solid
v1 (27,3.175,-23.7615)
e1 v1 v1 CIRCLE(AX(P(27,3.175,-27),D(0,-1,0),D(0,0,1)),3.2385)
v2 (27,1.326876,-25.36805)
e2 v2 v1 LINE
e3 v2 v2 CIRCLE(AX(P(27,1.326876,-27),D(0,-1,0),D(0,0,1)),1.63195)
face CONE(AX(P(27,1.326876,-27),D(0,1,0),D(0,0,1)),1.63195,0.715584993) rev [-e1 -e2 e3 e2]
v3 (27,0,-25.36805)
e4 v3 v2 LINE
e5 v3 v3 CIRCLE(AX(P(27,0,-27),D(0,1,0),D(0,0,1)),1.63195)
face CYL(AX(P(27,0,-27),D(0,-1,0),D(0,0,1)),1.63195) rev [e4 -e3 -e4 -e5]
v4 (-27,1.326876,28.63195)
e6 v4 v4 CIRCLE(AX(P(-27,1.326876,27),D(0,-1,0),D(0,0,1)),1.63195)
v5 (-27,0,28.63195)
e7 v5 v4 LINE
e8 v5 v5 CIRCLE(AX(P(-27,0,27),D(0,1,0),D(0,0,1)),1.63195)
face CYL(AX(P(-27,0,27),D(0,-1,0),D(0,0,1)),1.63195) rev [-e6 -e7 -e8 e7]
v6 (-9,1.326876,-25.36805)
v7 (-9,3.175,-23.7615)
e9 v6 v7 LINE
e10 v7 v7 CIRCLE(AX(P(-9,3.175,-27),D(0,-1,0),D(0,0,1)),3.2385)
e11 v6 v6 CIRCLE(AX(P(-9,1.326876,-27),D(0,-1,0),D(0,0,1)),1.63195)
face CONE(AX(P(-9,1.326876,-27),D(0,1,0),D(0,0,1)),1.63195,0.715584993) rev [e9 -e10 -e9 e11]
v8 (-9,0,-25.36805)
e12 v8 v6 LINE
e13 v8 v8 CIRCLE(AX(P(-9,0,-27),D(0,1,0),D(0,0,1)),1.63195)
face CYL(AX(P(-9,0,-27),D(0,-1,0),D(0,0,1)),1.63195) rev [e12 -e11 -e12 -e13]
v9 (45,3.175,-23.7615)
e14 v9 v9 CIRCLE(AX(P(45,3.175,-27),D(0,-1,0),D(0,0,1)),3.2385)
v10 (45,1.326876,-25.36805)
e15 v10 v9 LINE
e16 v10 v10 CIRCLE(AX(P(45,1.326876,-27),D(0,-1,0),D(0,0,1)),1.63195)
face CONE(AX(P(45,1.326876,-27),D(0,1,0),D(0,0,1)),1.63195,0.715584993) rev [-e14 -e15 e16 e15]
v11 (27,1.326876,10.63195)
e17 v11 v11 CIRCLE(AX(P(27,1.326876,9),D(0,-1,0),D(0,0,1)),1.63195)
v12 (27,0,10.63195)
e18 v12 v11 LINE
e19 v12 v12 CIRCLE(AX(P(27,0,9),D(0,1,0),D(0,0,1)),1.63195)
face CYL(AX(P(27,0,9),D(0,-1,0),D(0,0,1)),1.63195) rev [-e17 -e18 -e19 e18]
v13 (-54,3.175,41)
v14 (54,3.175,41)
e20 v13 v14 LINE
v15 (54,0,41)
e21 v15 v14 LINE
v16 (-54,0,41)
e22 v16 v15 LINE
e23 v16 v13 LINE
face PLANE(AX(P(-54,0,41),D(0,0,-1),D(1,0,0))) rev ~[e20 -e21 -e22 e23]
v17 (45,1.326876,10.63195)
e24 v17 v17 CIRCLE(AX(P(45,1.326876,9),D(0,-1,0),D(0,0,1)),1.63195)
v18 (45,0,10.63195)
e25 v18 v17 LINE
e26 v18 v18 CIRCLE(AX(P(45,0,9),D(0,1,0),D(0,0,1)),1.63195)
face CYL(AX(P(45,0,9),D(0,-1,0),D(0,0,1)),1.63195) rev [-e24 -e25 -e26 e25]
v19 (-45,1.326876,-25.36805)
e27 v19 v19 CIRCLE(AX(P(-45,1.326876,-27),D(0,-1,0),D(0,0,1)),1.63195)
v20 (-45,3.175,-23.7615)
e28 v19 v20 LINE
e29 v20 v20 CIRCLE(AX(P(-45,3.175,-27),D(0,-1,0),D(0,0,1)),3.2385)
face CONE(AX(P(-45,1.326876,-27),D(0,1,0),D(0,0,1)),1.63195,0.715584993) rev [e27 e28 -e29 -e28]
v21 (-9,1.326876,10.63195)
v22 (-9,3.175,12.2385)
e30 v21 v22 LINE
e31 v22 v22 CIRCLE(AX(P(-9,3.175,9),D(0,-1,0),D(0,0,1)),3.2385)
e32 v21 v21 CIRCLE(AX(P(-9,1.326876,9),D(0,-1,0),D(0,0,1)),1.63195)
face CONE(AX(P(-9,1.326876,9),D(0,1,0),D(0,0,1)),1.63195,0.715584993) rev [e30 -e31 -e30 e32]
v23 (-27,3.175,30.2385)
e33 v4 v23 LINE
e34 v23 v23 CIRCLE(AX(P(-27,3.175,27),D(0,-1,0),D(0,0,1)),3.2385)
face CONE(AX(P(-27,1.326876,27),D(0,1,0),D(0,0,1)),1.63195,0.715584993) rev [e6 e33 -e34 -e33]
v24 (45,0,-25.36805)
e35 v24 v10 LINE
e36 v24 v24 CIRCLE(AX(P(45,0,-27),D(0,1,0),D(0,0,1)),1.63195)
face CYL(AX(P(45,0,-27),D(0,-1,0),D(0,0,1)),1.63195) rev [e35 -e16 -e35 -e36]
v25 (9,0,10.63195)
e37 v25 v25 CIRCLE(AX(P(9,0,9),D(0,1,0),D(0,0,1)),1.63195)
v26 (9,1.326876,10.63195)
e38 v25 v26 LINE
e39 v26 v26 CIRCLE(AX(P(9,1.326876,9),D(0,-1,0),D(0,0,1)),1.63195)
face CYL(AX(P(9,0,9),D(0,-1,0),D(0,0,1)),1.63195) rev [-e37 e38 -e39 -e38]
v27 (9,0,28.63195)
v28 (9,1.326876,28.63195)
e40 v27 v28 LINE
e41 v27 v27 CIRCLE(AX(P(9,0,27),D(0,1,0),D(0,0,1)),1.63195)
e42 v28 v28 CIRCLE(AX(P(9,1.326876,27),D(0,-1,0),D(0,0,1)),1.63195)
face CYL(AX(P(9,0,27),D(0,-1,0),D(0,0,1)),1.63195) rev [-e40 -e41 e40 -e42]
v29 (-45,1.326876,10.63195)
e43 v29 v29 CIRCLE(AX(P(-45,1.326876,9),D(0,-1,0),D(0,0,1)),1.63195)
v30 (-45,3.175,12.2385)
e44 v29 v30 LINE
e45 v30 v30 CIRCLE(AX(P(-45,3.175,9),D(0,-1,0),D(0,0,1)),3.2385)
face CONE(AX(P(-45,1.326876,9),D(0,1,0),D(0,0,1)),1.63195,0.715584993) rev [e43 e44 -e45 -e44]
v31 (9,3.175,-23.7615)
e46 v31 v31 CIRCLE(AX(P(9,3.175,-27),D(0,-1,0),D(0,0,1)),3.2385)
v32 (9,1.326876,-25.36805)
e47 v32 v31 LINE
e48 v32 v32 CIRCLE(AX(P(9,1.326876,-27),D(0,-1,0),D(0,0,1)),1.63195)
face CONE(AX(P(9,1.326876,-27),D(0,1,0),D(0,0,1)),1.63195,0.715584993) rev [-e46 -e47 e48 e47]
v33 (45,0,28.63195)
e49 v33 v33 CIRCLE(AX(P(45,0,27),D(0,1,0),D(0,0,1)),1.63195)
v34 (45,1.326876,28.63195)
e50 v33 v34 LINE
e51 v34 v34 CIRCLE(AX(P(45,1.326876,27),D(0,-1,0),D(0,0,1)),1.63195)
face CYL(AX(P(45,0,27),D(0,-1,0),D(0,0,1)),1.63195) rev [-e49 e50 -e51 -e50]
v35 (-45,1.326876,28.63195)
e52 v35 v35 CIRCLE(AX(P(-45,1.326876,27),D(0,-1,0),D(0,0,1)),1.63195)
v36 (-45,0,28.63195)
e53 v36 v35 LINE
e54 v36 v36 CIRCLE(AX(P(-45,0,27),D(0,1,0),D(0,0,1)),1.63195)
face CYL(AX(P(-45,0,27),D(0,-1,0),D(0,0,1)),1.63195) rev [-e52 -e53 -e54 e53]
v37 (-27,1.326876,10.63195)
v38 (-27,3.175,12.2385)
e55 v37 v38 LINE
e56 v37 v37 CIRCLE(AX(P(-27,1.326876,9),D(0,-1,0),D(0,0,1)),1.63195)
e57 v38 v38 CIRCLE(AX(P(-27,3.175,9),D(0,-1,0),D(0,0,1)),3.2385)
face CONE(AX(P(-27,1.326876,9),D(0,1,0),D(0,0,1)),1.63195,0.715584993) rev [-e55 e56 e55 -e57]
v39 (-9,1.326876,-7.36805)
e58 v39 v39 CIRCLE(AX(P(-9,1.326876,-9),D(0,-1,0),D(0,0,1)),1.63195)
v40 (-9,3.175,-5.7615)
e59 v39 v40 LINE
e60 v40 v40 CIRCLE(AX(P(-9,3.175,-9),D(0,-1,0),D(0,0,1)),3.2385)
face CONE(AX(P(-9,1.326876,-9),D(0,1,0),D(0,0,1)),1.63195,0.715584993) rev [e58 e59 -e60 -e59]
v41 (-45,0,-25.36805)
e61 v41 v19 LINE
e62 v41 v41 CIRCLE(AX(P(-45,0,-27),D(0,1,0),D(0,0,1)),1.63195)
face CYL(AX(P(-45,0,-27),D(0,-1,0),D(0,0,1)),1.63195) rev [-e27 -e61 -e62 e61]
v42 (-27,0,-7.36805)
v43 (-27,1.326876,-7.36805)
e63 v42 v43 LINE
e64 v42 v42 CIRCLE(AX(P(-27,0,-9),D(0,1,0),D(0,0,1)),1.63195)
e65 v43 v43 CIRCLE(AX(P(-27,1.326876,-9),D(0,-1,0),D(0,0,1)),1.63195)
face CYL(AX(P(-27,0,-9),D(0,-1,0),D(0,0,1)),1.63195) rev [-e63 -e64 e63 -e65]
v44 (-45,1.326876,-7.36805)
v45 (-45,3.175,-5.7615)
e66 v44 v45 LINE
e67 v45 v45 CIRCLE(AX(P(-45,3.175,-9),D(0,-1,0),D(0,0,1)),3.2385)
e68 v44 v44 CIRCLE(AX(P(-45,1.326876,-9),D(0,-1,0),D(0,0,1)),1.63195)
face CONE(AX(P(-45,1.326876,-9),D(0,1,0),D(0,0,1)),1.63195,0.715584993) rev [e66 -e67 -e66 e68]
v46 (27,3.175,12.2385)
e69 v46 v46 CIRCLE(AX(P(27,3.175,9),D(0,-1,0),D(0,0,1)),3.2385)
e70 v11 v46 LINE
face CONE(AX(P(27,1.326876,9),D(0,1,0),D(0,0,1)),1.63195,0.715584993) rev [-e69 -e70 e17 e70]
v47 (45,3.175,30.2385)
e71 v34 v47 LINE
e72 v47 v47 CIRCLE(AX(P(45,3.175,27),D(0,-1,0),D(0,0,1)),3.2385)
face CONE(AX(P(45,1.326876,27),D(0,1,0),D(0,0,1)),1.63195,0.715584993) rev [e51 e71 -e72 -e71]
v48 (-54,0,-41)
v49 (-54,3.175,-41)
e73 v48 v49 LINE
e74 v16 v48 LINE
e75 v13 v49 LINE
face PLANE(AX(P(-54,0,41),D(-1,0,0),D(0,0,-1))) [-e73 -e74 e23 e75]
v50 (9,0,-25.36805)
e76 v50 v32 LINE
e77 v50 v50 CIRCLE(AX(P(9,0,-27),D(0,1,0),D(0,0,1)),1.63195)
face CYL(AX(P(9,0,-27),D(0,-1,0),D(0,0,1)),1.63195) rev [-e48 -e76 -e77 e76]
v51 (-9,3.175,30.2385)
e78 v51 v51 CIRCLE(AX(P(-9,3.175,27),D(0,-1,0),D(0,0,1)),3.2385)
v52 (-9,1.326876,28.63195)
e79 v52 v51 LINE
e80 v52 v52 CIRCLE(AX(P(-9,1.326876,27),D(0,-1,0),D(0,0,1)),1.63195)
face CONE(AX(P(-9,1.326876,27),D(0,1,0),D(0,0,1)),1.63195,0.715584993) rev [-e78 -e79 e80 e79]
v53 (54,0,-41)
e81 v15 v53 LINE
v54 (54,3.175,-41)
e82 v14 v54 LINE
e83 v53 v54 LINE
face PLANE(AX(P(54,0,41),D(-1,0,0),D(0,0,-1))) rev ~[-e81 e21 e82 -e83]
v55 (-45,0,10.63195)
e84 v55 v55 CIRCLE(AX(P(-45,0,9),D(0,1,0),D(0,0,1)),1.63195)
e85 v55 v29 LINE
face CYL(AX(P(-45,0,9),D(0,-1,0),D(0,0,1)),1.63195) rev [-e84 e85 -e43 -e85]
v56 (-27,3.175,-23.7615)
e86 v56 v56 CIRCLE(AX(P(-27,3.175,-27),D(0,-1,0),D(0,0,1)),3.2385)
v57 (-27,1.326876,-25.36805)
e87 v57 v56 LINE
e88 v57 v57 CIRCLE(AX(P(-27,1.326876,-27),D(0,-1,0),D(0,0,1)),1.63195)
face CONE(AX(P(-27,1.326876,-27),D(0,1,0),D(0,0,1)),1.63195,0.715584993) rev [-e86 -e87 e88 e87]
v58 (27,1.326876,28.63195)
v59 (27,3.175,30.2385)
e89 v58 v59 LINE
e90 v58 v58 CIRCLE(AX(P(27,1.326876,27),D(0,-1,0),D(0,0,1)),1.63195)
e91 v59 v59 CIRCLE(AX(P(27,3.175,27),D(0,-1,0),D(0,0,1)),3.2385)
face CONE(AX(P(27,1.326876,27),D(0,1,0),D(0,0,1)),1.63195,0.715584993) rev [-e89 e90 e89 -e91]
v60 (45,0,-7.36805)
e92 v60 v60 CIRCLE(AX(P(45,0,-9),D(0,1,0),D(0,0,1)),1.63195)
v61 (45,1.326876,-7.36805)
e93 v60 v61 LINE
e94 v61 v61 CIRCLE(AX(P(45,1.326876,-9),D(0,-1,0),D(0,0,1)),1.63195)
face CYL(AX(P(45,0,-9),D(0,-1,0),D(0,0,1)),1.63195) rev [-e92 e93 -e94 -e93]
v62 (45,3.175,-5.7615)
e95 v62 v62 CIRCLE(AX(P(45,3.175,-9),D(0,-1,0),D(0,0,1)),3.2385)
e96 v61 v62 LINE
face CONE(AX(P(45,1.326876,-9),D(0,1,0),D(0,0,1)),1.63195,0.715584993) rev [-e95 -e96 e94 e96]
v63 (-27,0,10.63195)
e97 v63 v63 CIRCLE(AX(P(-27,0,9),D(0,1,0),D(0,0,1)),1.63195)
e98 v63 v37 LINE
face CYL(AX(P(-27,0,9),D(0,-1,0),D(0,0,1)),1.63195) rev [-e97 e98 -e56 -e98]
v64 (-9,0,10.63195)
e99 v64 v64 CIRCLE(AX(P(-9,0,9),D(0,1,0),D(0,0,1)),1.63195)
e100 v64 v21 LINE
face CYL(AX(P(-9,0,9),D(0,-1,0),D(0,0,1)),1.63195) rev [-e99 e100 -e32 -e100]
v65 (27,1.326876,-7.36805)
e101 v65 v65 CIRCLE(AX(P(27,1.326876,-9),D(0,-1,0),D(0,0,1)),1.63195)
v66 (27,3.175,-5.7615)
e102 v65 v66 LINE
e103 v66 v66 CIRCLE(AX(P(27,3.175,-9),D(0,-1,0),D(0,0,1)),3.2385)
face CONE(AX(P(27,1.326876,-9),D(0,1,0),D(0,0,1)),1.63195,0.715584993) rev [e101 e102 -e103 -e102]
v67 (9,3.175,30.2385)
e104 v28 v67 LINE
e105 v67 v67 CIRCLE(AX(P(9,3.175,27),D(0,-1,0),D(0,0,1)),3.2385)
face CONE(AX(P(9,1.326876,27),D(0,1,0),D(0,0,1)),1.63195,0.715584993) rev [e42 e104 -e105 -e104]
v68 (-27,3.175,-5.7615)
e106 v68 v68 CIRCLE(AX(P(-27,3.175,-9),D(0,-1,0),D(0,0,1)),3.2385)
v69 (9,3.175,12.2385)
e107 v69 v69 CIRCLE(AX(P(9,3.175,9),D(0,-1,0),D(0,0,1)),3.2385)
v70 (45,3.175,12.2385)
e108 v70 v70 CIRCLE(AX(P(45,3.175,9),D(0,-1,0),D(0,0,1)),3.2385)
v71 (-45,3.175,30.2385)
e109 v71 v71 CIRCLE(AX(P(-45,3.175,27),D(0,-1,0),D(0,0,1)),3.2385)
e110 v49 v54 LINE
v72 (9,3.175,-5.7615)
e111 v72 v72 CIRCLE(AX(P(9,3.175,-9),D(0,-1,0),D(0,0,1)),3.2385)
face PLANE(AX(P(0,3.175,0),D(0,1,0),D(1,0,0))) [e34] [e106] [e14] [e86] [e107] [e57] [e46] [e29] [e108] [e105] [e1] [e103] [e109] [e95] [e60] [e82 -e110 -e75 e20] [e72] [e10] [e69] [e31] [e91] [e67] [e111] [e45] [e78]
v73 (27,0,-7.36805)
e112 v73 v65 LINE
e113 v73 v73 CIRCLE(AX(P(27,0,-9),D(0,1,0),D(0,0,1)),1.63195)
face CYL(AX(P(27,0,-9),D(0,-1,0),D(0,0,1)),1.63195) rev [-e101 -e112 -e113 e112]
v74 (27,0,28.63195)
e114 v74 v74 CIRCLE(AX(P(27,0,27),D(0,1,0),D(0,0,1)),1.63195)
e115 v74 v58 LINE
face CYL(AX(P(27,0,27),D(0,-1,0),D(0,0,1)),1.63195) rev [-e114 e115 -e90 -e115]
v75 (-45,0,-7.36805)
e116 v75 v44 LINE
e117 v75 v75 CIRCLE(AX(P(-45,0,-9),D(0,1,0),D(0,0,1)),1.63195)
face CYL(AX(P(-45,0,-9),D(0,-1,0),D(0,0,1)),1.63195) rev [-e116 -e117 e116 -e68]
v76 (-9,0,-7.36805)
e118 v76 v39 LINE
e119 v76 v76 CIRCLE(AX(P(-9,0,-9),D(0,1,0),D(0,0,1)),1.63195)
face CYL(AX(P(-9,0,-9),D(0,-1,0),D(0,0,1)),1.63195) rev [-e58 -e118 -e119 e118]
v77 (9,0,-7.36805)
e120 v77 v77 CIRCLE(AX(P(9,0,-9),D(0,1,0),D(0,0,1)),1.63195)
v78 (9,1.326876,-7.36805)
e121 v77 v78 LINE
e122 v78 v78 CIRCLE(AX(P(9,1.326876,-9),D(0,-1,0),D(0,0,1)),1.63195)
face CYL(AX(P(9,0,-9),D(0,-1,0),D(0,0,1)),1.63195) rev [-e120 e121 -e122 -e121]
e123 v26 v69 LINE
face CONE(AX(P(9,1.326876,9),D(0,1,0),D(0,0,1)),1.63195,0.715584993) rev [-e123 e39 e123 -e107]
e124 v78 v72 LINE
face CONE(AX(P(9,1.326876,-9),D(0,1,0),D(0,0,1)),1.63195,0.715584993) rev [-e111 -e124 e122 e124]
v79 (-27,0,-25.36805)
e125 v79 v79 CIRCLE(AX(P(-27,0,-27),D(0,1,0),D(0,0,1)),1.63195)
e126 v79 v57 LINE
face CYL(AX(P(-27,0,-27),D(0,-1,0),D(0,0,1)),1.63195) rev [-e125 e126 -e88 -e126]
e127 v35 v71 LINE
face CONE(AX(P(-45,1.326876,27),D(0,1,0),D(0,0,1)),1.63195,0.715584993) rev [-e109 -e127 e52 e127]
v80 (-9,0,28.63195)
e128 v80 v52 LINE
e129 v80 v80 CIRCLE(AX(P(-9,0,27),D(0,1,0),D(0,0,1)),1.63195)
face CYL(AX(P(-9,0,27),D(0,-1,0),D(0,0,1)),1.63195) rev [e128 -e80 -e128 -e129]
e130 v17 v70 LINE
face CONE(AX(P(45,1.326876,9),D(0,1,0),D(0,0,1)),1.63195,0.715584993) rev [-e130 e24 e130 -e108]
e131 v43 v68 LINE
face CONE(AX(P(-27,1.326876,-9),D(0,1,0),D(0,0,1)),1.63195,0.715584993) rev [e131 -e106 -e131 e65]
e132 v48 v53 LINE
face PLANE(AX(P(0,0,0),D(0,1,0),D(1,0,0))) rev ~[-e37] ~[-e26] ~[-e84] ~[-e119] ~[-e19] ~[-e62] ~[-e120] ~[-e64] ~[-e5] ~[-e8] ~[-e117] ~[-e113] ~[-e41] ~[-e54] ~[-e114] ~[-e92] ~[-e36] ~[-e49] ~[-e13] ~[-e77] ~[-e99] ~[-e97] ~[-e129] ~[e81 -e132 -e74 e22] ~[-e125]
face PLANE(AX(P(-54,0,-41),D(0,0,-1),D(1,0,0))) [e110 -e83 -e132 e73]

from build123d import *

# Parameters (mm, degrees)
SKETCH1_W                                     = 108
SKETCH1_H                                     = 82
SKETCH1_R                                     = 1.63195
BOSS_EXTRUDE1_DEPTH                           = 3.175
CSK_FOR_4_FLAT_HEAD_MACHINE_SCREW1_AT_2_COUNT = 2
CSK_FOR_4_FLAT_HEAD_MACHINE_SCREW1_AT_2_PITCH = 18
CSK_FOR_4_FLAT_HEAD_MACHINE_SCREW1_AT_3_COUNT = 2
CSK_FOR_4_FLAT_HEAD_MACHINE_SCREW1_AT_3_PITCH = 36
CSK_FOR_4_FLAT_HEAD_MACHINE_SCREW1_AT_4_COUNT = 2
CSK_FOR_4_FLAT_HEAD_MACHINE_SCREW1_AT_4_PITCH = 54
CSK_FOR_4_FLAT_HEAD_MACHINE_SCREW1_AT_5_COUNT = 2
CSK_FOR_4_FLAT_HEAD_MACHINE_SCREW1_AT_5_PITCH = 72
CSK_FOR_4_FLAT_HEAD_MACHINE_SCREW1_AT_6_COUNT = 2
CSK_FOR_4_FLAT_HEAD_MACHINE_SCREW1_AT_6_PITCH = 90
CSK_FOR_4_FLAT_HEAD_MACHINE_SCREW1_AT_7_COUNT = 2
CSK_FOR_4_FLAT_HEAD_MACHINE_SCREW1_AT_7_PITCH = 91.782351245
CSK_FOR_4_FLAT_HEAD_MACHINE_SCREW1_AT_8_COUNT = 2
CSK_FOR_4_FLAT_HEAD_MACHINE_SCREW1_AT_8_PITCH = 74.215901261
CSK_FOR_4_FLAT_HEAD_MACHINE_SCREW1_AT_9_COUNT = 2
CSK_FOR_4_FLAT_HEAD_MACHINE_SCREW1_AT_9_PITCH = 56.920997883
CSK_FOR_4_FLAT_HEAD_MACHINE_SCREW1_AT_1_COUNT = 2
CSK_FOR_4_FLAT_HEAD_MACHINE_SCREW1_AT_1_PITCH = 40.249223595
CSK_FOR_4_FLAT_HEAD_MACHINE_SCREW1_2_COUNT    = 2
CSK_FOR_4_FLAT_HEAD_MACHINE_SCREW1_2_PITCH    = 25.455844123
CSK_FOR_4_FLAT_HEAD_MACHINE_SCREW1_3_COUNT    = 2
CSK_FOR_4_FLAT_HEAD_MACHINE_SCREW1_3_PITCH    = 18
CSK_FOR_4_FLAT_HEAD_MACHINE_SCREW1_4_COUNT    = 2
CSK_FOR_4_FLAT_HEAD_MACHINE_SCREW1_4_PITCH    = 36
CSK_FOR_4_FLAT_HEAD_MACHINE_SCREW1_5_COUNT    = 2
CSK_FOR_4_FLAT_HEAD_MACHINE_SCREW1_5_PITCH    = 40.249223595
CSK_FOR_4_FLAT_HEAD_MACHINE_SCREW1_6_COUNT    = 2
CSK_FOR_4_FLAT_HEAD_MACHINE_SCREW1_6_PITCH    = 50.911688245
CSK_FOR_4_FLAT_HEAD_MACHINE_SCREW1_7_COUNT    = 2
CSK_FOR_4_FLAT_HEAD_MACHINE_SCREW1_7_PITCH    = 64.899922958
CSK_FOR_4_FLAT_HEAD_MACHINE_SCREW1_8_COUNT    = 2
CSK_FOR_4_FLAT_HEAD_MACHINE_SCREW1_8_PITCH    = 80.49844719
CSK_FOR_4_FLAT_HEAD_MACHINE_SCREW1_9_COUNT    = 2
CSK_FOR_4_FLAT_HEAD_MACHINE_SCREW1_9_PITCH    = 96.932966528
CSK_FOR_4_FLAT_HEAD_MACHINE_SCREW1_10_COUNT   = 2
CSK_FOR_4_FLAT_HEAD_MACHINE_SCREW1_10_PITCH   = 104.957134107
CSK_FOR_4_FLAT_HEAD_MACHINE_SCREW1_11_COUNT   = 2
CSK_FOR_4_FLAT_HEAD_MACHINE_SCREW1_11_PITCH   = 90
CSK_FOR_4_FLAT_HEAD_MACHINE_SCREW1_12_COUNT   = 2
CSK_FOR_4_FLAT_HEAD_MACHINE_SCREW1_12_PITCH   = 76.367532368
CSK_FOR_4_FLAT_HEAD_MACHINE_SCREW1_13_COUNT   = 2
CSK_FOR_4_FLAT_HEAD_MACHINE_SCREW1_13_PITCH   = 64.899922958
CSK_FOR_4_FLAT_HEAD_MACHINE_SCREW1_14_COUNT   = 2
CSK_FOR_4_FLAT_HEAD_MACHINE_SCREW1_14_PITCH   = 56.920997883
CSK_FOR_4_FLAT_HEAD_MACHINE_SCREW1_15_COUNT   = 2
CSK_FOR_4_FLAT_HEAD_MACHINE_SCREW1_15_PITCH   = 54


with BuildPart() as part:
    # Sketch1 → Boss-Extrude1 (new body)
    with BuildSketch(Plane(origin=(0, 0, 0), x_dir=(1, 0, 0), z_dir=(0, 1, 0))):
        Rectangle(SKETCH1_W, SKETCH1_H)
        with Locations(Location((-45, 27, 0), (0, 0, 270))):
            Circle(SKETCH1_R, mode=Mode.SUBTRACT)
        with Locations(Location((-27, 27, 0), (0, 0, 270))):
            Circle(SKETCH1_R, mode=Mode.SUBTRACT)
        with Locations(Location((-9, 27, 0), (0, 0, 270))):
            Circle(SKETCH1_R, mode=Mode.SUBTRACT)
        with Locations(Location((9, 27, 0), (0, 0, 270))):
            Circle(SKETCH1_R, mode=Mode.SUBTRACT)
        with Locations(Location((27, 27, 0), (0, 0, 270))):
            Circle(SKETCH1_R, mode=Mode.SUBTRACT)
        with Locations(Location((45, 27, 0), (0, 0, 270))):
            Circle(SKETCH1_R, mode=Mode.SUBTRACT)
        with Locations(Location((-27, 9, 0), (0, 0, 270))):
            Circle(SKETCH1_R, mode=Mode.SUBTRACT)
        with Locations(Location((-9, 9, 0), (0, 0, 270))):
            Circle(SKETCH1_R, mode=Mode.SUBTRACT)
        with Locations(Location((9, 9, 0), (0, 0, 270))):
            Circle(SKETCH1_R, mode=Mode.SUBTRACT)
        with Locations(Location((27, 9, 0), (0, 0, 270))):
            Circle(SKETCH1_R, mode=Mode.SUBTRACT)
        with Locations(Location((45, 9, 0), (0, 0, 270))):
            Circle(SKETCH1_R, mode=Mode.SUBTRACT)
        with Locations(Location((-27, -9, 0), (0, 0, 270))):
            Circle(SKETCH1_R, mode=Mode.SUBTRACT)
        with Locations(Location((-9, -9, 0), (0, 0, 270))):
            Circle(SKETCH1_R, mode=Mode.SUBTRACT)
        with Locations(Location((9, -9, 0), (0, 0, 270))):
            Circle(SKETCH1_R, mode=Mode.SUBTRACT)
        with Locations(Location((27, -9, 0), (0, 0, 270))):
            Circle(SKETCH1_R, mode=Mode.SUBTRACT)
        with Locations(Location((45, -9, 0), (0, 0, 270))):
            Circle(SKETCH1_R, mode=Mode.SUBTRACT)
        with Locations(Location((-27, -27, 0), (0, 0, 270))):
            Circle(SKETCH1_R, mode=Mode.SUBTRACT)
        with Locations(Location((-9, -27, 0), (0, 0, 270))):
            Circle(SKETCH1_R, mode=Mode.SUBTRACT)
        with Locations(Location((9, -27, 0), (0, 0, 270))):
            Circle(SKETCH1_R, mode=Mode.SUBTRACT)
        with Locations(Location((27, -27, 0), (0, 0, 270))):
            Circle(SKETCH1_R, mode=Mode.SUBTRACT)
        with Locations(Location((45, -27, 0), (0, 0, 270))):
            Circle(SKETCH1_R, mode=Mode.SUBTRACT)
        with Locations(Location((-45, 9, 0), (0, 0, 270))):
            Circle(SKETCH1_R, mode=Mode.SUBTRACT)
        with Locations(Location((-45, -9, 0), (0, 0, 270))):
            Circle(SKETCH1_R, mode=Mode.SUBTRACT)
        with Locations(Location((-45, -27, 0), (0, 0, 270))):
            Circle(SKETCH1_R, mode=Mode.SUBTRACT)
    extrude(amount=BOSS_EXTRUDE1_DEPTH)

    # Sketch3 → CSK for #4 Flat Head Machine Screw1 (revolve, cut)
    with BuildSketch(Plane(origin=(45, 3.175, 27), x_dir=(0, 0, 1), z_dir=(1, 0, 0))):
        Polygon((0, 0), (0, 3.175), (1.63195, 3.175), (1.63195, 1.848124365), (3.2385, 0), align=None)
    csk_for_4_flat_head_machine_screw1 = revolve(axis=Axis((45, 9.525, 27), (0, -1, 0)), mode=Mode.SUBTRACT)

    # CSK for #4 Flat Head Machine Screw1 at 2: CSK for #4 Flat Head Machine Screw1 ×2
    with Locations(*[(-i * CSK_FOR_4_FLAT_HEAD_MACHINE_SCREW1_AT_2_PITCH, 0, 0) for i in range(1, CSK_FOR_4_FLAT_HEAD_MACHINE_SCREW1_AT_2_COUNT)]):
        add(csk_for_4_flat_head_machine_screw1, mode=Mode.SUBTRACT)

    # CSK for #4 Flat Head Machine Screw1 at 3: CSK for #4 Flat Head Machine Screw1 ×2
    with Locations(*[(-i * CSK_FOR_4_FLAT_HEAD_MACHINE_SCREW1_AT_3_PITCH, 0, 0) for i in range(1, CSK_FOR_4_FLAT_HEAD_MACHINE_SCREW1_AT_3_COUNT)]):
        add(csk_for_4_flat_head_machine_screw1, mode=Mode.SUBTRACT)

    # CSK for #4 Flat Head Machine Screw1 at 4: CSK for #4 Flat Head Machine Screw1 ×2
    with Locations(*[(-i * CSK_FOR_4_FLAT_HEAD_MACHINE_SCREW1_AT_4_PITCH, 0, 0) for i in range(1, CSK_FOR_4_FLAT_HEAD_MACHINE_SCREW1_AT_4_COUNT)]):
        add(csk_for_4_flat_head_machine_screw1, mode=Mode.SUBTRACT)

    # CSK for #4 Flat Head Machine Screw1 at 5: CSK for #4 Flat Head Machine Screw1 ×2
    with Locations(*[(-i * CSK_FOR_4_FLAT_HEAD_MACHINE_SCREW1_AT_5_PITCH, 0, 0) for i in range(1, CSK_FOR_4_FLAT_HEAD_MACHINE_SCREW1_AT_5_COUNT)]):
        add(csk_for_4_flat_head_machine_screw1, mode=Mode.SUBTRACT)

    # CSK for #4 Flat Head Machine Screw1 at 6: CSK for #4 Flat Head Machine Screw1 ×2
    with Locations(*[(-i * CSK_FOR_4_FLAT_HEAD_MACHINE_SCREW1_AT_6_PITCH, 0, 0) for i in range(1, CSK_FOR_4_FLAT_HEAD_MACHINE_SCREW1_AT_6_COUNT)]):
        add(csk_for_4_flat_head_machine_screw1, mode=Mode.SUBTRACT)

    # CSK for #4 Flat Head Machine Screw1 at 7: CSK for #4 Flat Head Machine Screw1 ×2
    with Locations(*[Vector(-0.9805806756909203, 0, -0.1961161351381836) * (i * CSK_FOR_4_FLAT_HEAD_MACHINE_SCREW1_AT_7_PITCH) for i in range(1, CSK_FOR_4_FLAT_HEAD_MACHINE_SCREW1_AT_7_COUNT)]):
        add(csk_for_4_flat_head_machine_screw1, mode=Mode.SUBTRACT)

    # CSK for #4 Flat Head Machine Screw1 at 8: CSK for #4 Flat Head Machine Screw1 ×2
    with Locations(*[Vector(-0.9701425001453321, 0, -0.24253562503633236) * (i * CSK_FOR_4_FLAT_HEAD_MACHINE_SCREW1_AT_8_PITCH) for i in range(1, CSK_FOR_4_FLAT_HEAD_MACHINE_SCREW1_AT_8_COUNT)]):
        add(csk_for_4_flat_head_machine_screw1, mode=Mode.SUBTRACT)

    # CSK for #4 Flat Head Machine Screw1 at 9: CSK for #4 Flat Head Machine Screw1 ×2
    with Locations(*[Vector(-0.9486832980505142, 0, -0.31622776601683683) * (i * CSK_FOR_4_FLAT_HEAD_MACHINE_SCREW1_AT_9_PITCH) for i in range(1, CSK_FOR_4_FLAT_HEAD_MACHINE_SCREW1_AT_9_COUNT)]):
        add(csk_for_4_flat_head_machine_screw1, mode=Mode.SUBTRACT)

    # CSK for #4 Flat Head Machine Screw1 at 1: CSK for #4 Flat Head Machine Screw1 ×2
    with Locations(*[Vector(-0.894427190999917, 0, -0.44721359549995593) * (i * CSK_FOR_4_FLAT_HEAD_MACHINE_SCREW1_AT_1_PITCH) for i in range(1, CSK_FOR_4_FLAT_HEAD_MACHINE_SCREW1_AT_1_COUNT)]):
        add(csk_for_4_flat_head_machine_screw1, mode=Mode.SUBTRACT)

    # CSK for #4 Flat Head Machine Screw1  2: CSK for #4 Flat Head Machine Screw1 ×2
    with Locations(*[Vector(-0.7071067811865515, 0, -0.7071067811865436) * (i * CSK_FOR_4_FLAT_HEAD_MACHINE_SCREW1_2_PITCH) for i in range(1, CSK_FOR_4_FLAT_HEAD_MACHINE_SCREW1_2_COUNT)]):
        add(csk_for_4_flat_head_machine_screw1, mode=Mode.SUBTRACT)

    # CSK for #4 Flat Head Machine Screw1  3: CSK for #4 Flat Head Machine Screw1 ×2
    with Locations(*[(0, 0, -i * CSK_FOR_4_FLAT_HEAD_MACHINE_SCREW1_3_PITCH) for i in range(1, CSK_FOR_4_FLAT_HEAD_MACHINE_SCREW1_3_COUNT)]):
        add(csk_for_4_flat_head_machine_screw1, mode=Mode.SUBTRACT)

    # CSK for #4 Flat Head Machine Screw1  4: CSK for #4 Flat Head Machine Screw1 ×2
    with Locations(*[(0, 0, -i * CSK_FOR_4_FLAT_HEAD_MACHINE_SCREW1_4_PITCH) for i in range(1, CSK_FOR_4_FLAT_HEAD_MACHINE_SCREW1_4_COUNT)]):
        add(csk_for_4_flat_head_machine_screw1, mode=Mode.SUBTRACT)

    # CSK for #4 Flat Head Machine Screw1  5: CSK for #4 Flat Head Machine Screw1 ×2
    with Locations(*[Vector(-0.44721359549996553, 0, -0.8944271909999122) * (i * CSK_FOR_4_FLAT_HEAD_MACHINE_SCREW1_5_PITCH) for i in range(1, CSK_FOR_4_FLAT_HEAD_MACHINE_SCREW1_5_COUNT)]):
        add(csk_for_4_flat_head_machine_screw1, mode=Mode.SUBTRACT)

    # CSK for #4 Flat Head Machine Screw1  6: CSK for #4 Flat Head Machine Screw1 ×2
    with Locations(*[Vector(-0.7071067811865513, 0, -0.7071067811865437) * (i * CSK_FOR_4_FLAT_HEAD_MACHINE_SCREW1_6_PITCH) for i in range(1, CSK_FOR_4_FLAT_HEAD_MACHINE_SCREW1_6_COUNT)]):
        add(csk_for_4_flat_head_machine_screw1, mode=Mode.SUBTRACT)

    # CSK for #4 Flat Head Machine Screw1  7: CSK for #4 Flat Head Machine Screw1 ×2
    with Locations(*[Vector(-0.8320502943378456, 0, -0.5547001962252264) * (i * CSK_FOR_4_FLAT_HEAD_MACHINE_SCREW1_7_PITCH) for i in range(1, CSK_FOR_4_FLAT_HEAD_MACHINE_SCREW1_7_COUNT)]):
        add(csk_for_4_flat_head_machine_screw1, mode=Mode.SUBTRACT)

    # CSK for #4 Flat Head Machine Screw1  8: CSK for #4 Flat Head Machine Screw1 ×2
    with Locations(*[Vector(-0.894427190999917, 0, -0.447213595499956) * (i * CSK_FOR_4_FLAT_HEAD_MACHINE_SCREW1_8_PITCH) for i in range(1, CSK_FOR_4_FLAT_HEAD_MACHINE_SCREW1_8_COUNT)]):
        add(csk_for_4_flat_head_machine_screw1, mode=Mode.SUBTRACT)

    # CSK for #4 Flat Head Machine Screw1  9: CSK for #4 Flat Head Machine Screw1 ×2
    with Locations(*[Vector(-0.9284766908852599, 0, -0.37139067635410233) * (i * CSK_FOR_4_FLAT_HEAD_MACHINE_SCREW1_9_PITCH) for i in range(1, CSK_FOR_4_FLAT_HEAD_MACHINE_SCREW1_9_COUNT)]):
        add(csk_for_4_flat_head_machine_screw1, mode=Mode.SUBTRACT)

    # CSK for #4 Flat Head Machine Screw1  10: CSK for #4 Flat Head Machine Screw1 ×2
    with Locations(*[Vector(-0.8574929257125457, 0, -0.514495755427524) * (i * CSK_FOR_4_FLAT_HEAD_MACHINE_SCREW1_10_PITCH) for i in range(1, CSK_FOR_4_FLAT_HEAD_MACHINE_SCREW1_10_COUNT)]):
        add(csk_for_4_flat_head_machine_screw1, mode=Mode.SUBTRACT)

    # CSK for #4 Flat Head Machine Screw1  11: CSK for #4 Flat Head Machine Screw1 ×2
    with Locations(*[Vector(-0.8000000000000023, 0, -0.5999999999999969) * (i * CSK_FOR_4_FLAT_HEAD_MACHINE_SCREW1_11_PITCH) for i in range(1, CSK_FOR_4_FLAT_HEAD_MACHINE_SCREW1_11_COUNT)]):
        add(csk_for_4_flat_head_machine_screw1, mode=Mode.SUBTRACT)

    # CSK for #4 Flat Head Machine Screw1  12: CSK for #4 Flat Head Machine Screw1 ×2
    with Locations(*[Vector(-0.7071067811865513, 0, -0.7071067811865438) * (i * CSK_FOR_4_FLAT_HEAD_MACHINE_SCREW1_12_PITCH) for i in range(1, CSK_FOR_4_FLAT_HEAD_MACHINE_SCREW1_12_COUNT)]):
        add(csk_for_4_flat_head_machine_screw1, mode=Mode.SUBTRACT)

    # CSK for #4 Flat Head Machine Screw1  13: CSK for #4 Flat Head Machine Screw1 ×2
    with Locations(*[Vector(-0.5547001962252354, 0, -0.8320502943378396) * (i * CSK_FOR_4_FLAT_HEAD_MACHINE_SCREW1_13_PITCH) for i in range(1, CSK_FOR_4_FLAT_HEAD_MACHINE_SCREW1_13_COUNT)]):
        add(csk_for_4_flat_head_machine_screw1, mode=Mode.SUBTRACT)

    # CSK for #4 Flat Head Machine Screw1  14: CSK for #4 Flat Head Machine Screw1 ×2
    with Locations(*[Vector(-0.31622776601684705, 0, -0.9486832980505108) * (i * CSK_FOR_4_FLAT_HEAD_MACHINE_SCREW1_14_PITCH) for i in range(1, CSK_FOR_4_FLAT_HEAD_MACHINE_SCREW1_14_COUNT)]):
        add(csk_for_4_flat_head_machine_screw1, mode=Mode.SUBTRACT)

    # CSK for #4 Flat Head Machine Screw1  15: CSK for #4 Flat Head Machine Screw1 ×2
    with Locations(*[(0, 0, -i * CSK_FOR_4_FLAT_HEAD_MACHINE_SCREW1_15_PITCH) for i in range(1, CSK_FOR_4_FLAT_HEAD_MACHINE_SCREW1_15_COUNT)]):
        add(csk_for_4_flat_head_machine_screw1, mode=Mode.SUBTRACT)


solid = part.part
